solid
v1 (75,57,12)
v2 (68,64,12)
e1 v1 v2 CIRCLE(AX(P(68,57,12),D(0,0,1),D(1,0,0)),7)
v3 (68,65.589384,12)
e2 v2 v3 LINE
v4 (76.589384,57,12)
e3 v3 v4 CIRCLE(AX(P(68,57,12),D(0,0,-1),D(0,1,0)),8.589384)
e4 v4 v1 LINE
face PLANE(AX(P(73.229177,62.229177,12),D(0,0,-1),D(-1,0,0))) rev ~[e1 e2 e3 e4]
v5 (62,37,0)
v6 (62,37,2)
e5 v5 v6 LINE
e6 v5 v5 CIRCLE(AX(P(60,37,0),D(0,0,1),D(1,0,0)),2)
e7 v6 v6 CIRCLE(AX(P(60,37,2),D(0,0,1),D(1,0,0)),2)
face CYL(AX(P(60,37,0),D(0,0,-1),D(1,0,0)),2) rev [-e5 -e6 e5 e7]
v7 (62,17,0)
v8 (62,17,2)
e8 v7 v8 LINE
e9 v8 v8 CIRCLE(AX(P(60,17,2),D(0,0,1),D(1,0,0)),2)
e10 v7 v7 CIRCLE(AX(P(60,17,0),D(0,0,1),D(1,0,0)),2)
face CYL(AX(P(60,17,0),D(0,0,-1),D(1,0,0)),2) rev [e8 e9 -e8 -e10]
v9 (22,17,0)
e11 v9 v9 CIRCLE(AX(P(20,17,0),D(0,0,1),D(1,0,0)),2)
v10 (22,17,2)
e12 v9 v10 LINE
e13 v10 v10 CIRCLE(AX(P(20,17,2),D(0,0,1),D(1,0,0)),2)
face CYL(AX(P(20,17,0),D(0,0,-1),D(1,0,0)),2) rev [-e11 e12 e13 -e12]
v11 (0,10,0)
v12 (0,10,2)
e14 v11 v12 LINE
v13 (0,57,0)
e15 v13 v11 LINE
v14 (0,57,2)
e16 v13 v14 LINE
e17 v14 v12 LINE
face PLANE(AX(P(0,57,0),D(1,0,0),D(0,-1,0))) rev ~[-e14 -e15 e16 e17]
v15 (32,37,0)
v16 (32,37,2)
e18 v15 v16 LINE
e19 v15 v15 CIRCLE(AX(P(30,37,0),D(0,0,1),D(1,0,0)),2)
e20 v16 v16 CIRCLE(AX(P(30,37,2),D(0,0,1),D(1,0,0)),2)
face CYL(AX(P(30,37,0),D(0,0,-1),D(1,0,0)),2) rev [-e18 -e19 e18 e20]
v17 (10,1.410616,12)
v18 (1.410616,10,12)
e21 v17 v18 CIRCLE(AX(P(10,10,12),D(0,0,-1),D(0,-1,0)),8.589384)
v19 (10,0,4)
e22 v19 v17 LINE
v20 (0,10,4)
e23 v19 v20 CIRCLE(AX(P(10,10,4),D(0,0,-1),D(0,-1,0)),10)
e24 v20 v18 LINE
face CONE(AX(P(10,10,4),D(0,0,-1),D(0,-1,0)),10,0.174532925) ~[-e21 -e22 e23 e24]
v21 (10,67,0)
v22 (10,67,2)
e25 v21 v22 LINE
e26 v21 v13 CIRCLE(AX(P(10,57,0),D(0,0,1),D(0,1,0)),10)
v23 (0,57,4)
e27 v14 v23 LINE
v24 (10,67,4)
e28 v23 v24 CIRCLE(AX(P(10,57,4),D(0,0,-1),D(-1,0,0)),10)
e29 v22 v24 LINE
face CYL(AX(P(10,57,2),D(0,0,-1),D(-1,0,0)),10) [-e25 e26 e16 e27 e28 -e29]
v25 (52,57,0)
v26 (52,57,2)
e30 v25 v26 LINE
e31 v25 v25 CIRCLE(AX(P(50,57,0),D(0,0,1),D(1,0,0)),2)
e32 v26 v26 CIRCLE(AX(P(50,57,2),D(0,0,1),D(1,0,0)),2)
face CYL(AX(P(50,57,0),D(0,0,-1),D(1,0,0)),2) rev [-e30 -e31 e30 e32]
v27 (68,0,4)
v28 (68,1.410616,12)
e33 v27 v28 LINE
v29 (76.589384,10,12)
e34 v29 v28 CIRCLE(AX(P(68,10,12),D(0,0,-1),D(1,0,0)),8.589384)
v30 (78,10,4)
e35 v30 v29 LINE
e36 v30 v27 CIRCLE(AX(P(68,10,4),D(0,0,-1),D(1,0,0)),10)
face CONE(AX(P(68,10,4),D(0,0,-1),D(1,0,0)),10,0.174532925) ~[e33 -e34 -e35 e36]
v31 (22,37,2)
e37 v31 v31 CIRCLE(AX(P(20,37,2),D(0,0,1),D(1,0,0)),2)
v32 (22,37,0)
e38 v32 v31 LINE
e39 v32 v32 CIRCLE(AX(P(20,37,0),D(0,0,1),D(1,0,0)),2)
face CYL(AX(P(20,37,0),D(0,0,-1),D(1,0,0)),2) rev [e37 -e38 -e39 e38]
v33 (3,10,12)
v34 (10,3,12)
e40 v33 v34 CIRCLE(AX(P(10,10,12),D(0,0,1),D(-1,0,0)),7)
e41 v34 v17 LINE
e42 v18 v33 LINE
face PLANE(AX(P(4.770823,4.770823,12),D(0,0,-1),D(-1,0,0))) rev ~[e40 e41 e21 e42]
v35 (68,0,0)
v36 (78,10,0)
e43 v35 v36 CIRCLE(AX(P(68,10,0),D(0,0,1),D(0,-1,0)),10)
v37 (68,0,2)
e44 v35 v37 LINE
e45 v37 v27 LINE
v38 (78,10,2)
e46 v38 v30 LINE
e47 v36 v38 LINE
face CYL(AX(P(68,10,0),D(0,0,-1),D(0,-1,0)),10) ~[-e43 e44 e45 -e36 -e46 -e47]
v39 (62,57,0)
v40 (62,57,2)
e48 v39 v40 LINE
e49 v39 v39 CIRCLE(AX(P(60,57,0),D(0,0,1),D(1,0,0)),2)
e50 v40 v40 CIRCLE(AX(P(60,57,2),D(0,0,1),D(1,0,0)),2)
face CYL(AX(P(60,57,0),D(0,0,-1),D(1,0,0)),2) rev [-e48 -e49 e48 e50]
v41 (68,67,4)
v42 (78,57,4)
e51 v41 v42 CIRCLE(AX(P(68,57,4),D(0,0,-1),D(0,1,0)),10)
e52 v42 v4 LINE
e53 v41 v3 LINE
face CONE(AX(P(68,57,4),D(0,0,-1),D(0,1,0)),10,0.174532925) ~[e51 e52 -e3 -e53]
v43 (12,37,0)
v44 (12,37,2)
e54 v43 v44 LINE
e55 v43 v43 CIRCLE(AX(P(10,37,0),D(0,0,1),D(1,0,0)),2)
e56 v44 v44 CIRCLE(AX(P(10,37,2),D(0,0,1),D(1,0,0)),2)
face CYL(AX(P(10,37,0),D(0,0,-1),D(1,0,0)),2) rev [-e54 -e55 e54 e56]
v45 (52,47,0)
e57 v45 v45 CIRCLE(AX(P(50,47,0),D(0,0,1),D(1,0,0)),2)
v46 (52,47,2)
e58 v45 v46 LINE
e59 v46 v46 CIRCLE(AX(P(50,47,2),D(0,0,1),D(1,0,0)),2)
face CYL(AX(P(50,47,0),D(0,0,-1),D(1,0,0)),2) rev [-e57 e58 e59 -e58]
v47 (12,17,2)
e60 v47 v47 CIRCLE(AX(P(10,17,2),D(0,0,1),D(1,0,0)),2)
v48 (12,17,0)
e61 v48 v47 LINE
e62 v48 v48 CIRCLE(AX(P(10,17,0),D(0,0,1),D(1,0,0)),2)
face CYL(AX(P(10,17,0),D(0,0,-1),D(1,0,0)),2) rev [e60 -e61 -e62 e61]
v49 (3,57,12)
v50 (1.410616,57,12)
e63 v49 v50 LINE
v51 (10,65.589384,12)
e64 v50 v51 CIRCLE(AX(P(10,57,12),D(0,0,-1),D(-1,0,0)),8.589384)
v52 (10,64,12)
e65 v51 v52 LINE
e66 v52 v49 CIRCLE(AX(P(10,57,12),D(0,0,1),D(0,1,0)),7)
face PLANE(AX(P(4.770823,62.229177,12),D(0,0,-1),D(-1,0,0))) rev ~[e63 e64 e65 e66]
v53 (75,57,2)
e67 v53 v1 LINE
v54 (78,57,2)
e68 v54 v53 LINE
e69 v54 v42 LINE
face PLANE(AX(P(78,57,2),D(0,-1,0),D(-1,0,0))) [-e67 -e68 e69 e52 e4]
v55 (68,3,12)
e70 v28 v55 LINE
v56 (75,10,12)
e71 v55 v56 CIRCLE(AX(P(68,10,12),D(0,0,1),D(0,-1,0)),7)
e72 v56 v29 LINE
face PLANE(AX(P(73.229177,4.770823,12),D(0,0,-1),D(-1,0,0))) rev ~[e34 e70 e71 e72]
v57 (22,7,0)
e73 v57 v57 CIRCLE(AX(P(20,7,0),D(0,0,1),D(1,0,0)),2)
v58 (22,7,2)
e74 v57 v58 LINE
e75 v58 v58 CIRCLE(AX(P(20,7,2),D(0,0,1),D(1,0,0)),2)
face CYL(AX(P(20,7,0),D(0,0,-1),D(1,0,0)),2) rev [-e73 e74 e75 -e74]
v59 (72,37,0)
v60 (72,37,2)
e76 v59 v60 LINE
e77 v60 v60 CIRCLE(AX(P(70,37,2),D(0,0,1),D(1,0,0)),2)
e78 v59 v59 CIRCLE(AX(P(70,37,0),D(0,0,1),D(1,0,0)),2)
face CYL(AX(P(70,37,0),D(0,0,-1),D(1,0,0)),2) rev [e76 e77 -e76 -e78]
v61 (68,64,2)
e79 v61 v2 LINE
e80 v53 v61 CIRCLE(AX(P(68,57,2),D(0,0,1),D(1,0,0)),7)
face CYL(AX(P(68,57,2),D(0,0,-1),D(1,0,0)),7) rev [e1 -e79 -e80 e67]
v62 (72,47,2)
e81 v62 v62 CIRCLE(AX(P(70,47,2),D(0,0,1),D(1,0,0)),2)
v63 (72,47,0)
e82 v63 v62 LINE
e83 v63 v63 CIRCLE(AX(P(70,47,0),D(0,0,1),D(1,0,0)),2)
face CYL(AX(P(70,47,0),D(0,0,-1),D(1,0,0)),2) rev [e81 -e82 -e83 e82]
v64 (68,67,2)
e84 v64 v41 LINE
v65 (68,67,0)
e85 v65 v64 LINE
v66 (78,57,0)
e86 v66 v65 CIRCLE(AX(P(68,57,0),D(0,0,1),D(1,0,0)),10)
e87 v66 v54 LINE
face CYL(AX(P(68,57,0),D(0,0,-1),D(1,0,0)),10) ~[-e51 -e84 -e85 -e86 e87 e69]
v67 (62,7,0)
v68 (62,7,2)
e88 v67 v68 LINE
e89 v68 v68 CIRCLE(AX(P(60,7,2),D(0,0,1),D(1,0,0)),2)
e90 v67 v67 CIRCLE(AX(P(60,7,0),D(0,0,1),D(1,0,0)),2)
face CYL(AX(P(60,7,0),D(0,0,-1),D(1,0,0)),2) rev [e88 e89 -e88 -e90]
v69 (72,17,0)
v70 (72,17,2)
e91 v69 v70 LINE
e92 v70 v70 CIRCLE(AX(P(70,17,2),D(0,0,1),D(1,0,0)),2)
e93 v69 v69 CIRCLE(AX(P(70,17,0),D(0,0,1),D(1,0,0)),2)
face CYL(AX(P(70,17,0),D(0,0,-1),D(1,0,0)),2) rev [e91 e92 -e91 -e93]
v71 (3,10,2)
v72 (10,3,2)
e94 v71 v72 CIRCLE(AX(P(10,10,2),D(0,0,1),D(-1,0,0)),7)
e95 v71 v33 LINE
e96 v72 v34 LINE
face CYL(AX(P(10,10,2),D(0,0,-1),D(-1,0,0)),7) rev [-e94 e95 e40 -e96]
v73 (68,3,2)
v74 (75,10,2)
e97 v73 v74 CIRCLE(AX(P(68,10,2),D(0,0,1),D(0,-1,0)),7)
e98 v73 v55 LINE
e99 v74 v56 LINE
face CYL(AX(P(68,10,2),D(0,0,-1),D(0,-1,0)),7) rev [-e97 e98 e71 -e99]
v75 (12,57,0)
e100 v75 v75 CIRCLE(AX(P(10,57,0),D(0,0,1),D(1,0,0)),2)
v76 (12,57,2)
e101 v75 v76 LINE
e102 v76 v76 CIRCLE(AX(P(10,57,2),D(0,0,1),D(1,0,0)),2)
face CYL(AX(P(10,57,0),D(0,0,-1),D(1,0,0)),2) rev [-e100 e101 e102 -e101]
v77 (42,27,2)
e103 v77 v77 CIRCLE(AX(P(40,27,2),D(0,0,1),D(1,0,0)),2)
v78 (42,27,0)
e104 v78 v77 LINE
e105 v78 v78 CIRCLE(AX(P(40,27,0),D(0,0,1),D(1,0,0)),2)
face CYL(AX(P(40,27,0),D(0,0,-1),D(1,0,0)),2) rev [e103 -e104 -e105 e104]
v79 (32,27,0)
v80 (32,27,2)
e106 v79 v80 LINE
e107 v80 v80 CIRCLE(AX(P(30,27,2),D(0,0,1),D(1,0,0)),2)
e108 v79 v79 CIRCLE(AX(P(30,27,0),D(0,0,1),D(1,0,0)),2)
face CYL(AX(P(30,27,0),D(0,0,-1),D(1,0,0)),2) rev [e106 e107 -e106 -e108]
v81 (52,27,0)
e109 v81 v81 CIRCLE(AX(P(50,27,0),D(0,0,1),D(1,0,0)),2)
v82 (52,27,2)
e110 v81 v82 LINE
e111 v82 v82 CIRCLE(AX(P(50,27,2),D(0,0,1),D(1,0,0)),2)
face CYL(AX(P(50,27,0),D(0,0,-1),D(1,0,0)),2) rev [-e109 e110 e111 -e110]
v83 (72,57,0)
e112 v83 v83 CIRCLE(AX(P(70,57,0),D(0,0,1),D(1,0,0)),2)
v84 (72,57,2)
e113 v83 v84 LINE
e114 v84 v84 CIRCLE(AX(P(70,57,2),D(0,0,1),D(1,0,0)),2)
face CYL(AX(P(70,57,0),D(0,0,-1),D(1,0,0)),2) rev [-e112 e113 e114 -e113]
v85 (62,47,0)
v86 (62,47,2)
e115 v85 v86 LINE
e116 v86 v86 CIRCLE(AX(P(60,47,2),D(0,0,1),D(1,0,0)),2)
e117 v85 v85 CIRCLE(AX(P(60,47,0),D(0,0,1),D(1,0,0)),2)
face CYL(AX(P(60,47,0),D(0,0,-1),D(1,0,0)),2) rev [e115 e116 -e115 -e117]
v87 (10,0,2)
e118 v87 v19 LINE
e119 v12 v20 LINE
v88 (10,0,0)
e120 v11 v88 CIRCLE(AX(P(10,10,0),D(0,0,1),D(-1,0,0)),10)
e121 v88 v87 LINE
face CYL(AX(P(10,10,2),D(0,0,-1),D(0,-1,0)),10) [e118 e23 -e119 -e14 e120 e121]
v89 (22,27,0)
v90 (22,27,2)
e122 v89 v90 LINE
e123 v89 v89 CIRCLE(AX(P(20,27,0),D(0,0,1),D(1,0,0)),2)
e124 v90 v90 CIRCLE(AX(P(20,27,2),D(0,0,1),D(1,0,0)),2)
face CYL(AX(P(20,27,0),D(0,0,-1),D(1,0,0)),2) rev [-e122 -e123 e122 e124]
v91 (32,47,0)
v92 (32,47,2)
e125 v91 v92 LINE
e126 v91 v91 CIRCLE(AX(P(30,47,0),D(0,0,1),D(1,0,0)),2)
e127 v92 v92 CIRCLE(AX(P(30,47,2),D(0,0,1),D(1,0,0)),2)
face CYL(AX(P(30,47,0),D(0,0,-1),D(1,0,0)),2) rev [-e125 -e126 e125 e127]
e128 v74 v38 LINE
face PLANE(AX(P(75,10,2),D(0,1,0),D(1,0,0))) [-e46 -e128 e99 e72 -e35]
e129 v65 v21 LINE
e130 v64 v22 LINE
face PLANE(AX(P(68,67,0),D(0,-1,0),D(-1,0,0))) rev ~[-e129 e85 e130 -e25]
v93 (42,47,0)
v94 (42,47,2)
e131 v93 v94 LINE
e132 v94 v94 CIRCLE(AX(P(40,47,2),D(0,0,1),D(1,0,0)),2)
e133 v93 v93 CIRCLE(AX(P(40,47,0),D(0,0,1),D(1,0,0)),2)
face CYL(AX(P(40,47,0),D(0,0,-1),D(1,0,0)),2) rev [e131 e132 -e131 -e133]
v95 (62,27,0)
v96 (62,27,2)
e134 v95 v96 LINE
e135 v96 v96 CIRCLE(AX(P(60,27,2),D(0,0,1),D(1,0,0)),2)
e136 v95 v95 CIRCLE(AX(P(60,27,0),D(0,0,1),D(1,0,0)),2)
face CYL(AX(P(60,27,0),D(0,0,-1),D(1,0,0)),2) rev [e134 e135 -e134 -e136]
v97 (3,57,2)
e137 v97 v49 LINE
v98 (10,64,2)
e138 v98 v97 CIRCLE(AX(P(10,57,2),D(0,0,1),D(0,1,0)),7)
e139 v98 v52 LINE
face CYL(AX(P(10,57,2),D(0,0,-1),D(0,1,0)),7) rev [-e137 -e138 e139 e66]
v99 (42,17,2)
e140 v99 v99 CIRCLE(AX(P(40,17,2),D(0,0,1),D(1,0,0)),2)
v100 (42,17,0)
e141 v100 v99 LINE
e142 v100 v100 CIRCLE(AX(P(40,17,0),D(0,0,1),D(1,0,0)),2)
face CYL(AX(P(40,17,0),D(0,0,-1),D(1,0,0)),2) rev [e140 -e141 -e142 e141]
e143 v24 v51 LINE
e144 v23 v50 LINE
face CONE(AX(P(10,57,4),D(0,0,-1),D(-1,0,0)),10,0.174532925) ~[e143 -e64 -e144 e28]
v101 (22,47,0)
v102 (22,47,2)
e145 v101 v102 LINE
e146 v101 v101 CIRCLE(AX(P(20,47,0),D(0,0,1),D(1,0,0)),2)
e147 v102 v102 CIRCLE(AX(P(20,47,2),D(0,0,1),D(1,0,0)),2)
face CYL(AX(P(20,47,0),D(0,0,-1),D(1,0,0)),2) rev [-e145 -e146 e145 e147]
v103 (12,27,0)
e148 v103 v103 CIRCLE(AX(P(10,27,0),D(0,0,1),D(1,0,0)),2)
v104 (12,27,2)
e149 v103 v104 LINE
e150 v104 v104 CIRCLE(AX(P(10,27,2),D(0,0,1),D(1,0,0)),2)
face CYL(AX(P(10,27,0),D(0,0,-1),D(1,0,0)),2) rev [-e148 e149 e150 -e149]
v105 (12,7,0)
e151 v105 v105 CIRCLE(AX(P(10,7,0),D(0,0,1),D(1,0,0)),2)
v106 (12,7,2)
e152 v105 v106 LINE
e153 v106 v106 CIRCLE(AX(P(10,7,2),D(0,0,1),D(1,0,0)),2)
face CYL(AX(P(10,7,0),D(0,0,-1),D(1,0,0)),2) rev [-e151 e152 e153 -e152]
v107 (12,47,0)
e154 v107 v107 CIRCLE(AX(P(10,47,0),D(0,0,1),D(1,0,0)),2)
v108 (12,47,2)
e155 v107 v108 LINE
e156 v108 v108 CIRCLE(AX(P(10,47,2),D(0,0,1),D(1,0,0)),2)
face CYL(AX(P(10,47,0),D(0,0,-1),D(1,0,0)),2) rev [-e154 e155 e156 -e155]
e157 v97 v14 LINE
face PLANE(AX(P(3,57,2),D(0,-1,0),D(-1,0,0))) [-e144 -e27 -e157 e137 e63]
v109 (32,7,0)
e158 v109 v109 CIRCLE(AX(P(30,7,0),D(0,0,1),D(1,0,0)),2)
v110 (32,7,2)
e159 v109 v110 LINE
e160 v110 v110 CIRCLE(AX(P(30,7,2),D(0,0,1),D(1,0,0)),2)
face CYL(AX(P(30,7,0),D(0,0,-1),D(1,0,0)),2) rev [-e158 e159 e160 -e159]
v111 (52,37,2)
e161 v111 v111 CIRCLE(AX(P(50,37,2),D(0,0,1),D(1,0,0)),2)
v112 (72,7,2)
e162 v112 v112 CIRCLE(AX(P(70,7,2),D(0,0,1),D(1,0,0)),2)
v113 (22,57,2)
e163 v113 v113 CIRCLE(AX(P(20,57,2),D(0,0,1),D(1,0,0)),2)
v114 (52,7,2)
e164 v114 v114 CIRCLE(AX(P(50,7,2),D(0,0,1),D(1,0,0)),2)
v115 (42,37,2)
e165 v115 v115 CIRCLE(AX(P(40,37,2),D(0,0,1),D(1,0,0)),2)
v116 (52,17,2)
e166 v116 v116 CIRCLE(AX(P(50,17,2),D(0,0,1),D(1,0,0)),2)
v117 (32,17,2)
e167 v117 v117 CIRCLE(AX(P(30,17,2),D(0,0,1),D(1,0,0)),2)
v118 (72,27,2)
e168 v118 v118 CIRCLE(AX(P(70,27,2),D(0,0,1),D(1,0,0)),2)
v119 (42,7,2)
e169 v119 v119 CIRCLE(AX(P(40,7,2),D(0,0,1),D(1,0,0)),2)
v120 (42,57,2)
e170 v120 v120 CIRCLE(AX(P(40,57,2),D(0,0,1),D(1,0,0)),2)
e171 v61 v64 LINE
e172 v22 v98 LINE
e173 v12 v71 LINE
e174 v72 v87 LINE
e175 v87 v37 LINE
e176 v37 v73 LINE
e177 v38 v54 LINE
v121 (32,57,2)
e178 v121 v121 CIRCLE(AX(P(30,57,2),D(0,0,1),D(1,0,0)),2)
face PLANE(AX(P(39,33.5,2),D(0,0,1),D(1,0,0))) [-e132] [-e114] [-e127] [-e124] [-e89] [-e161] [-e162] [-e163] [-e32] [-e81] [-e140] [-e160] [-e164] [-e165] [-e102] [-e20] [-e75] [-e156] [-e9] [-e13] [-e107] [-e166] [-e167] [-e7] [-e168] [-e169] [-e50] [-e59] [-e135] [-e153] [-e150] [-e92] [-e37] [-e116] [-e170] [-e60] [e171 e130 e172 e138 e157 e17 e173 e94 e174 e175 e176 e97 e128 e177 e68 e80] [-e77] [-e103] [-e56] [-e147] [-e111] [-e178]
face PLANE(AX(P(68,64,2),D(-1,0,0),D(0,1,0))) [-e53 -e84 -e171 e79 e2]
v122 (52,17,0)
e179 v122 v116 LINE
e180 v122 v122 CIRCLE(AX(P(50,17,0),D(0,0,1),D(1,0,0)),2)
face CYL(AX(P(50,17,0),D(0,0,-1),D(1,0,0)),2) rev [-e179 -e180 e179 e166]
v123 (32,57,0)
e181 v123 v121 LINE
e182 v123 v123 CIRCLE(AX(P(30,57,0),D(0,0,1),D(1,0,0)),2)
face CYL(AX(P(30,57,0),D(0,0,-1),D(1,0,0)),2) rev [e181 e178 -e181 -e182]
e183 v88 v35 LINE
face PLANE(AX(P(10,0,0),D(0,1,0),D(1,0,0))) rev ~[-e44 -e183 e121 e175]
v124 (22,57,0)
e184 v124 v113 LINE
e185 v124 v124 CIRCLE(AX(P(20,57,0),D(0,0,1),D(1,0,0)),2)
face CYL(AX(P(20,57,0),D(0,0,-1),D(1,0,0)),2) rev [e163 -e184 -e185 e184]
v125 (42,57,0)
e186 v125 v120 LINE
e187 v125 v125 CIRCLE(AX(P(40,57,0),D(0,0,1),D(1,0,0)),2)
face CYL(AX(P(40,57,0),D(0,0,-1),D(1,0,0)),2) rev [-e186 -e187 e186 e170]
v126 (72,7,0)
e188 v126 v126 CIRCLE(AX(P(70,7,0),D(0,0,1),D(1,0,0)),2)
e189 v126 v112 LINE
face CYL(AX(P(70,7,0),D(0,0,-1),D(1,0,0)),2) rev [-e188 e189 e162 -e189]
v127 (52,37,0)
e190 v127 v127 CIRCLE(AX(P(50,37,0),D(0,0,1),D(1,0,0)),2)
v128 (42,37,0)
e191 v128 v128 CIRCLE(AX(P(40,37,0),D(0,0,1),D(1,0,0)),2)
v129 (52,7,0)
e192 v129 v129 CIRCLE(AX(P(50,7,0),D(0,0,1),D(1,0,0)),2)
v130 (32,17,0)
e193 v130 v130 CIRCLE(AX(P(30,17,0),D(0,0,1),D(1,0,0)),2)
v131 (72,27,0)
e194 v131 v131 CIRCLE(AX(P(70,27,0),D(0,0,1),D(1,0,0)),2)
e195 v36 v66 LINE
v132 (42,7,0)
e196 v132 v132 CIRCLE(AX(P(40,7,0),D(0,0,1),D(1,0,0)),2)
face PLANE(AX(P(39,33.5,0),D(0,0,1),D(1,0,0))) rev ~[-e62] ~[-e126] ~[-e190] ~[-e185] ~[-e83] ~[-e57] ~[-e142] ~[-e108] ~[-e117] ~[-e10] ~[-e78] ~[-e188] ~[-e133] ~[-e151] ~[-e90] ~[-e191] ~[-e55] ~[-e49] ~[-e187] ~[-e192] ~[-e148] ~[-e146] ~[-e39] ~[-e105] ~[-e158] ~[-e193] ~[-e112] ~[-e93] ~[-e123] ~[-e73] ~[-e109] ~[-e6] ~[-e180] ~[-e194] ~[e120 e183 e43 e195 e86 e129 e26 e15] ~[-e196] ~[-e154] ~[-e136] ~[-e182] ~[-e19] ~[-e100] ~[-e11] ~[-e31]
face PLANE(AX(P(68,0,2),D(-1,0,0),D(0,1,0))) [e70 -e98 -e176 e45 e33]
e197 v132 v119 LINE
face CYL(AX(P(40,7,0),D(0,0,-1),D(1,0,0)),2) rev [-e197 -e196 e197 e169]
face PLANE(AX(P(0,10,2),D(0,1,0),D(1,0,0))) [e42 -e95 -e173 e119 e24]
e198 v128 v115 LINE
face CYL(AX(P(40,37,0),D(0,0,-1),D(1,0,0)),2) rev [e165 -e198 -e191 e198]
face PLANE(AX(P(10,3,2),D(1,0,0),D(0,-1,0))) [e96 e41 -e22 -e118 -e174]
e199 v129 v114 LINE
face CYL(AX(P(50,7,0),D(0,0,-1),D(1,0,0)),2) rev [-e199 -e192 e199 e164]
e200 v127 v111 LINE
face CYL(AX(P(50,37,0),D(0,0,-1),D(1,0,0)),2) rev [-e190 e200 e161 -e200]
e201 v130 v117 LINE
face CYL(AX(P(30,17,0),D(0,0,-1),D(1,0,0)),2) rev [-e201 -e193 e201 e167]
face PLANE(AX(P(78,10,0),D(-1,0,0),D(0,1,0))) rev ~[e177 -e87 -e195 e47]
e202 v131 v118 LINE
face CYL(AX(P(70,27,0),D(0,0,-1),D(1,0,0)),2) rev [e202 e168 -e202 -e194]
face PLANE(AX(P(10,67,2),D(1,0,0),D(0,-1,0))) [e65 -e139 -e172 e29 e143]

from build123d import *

# Parameters (mm, degrees)
ESQUISSE1_R             = 2
BOSS_EXTRU_1_DEPTH      = 2
BOSS_EXTRU_2_DEPTH      = 10
CHANFREIN1_SIZE         = 8
CHANFREIN1_SIZE2        = 1.410615846
CHANFREIN1_PART_2_SIZE  = 8
CHANFREIN1_PART_2_SIZE2 = 1.410615846
CHANFREIN1_PART_3_SIZE  = 8
CHANFREIN1_PART_3_SIZE2 = 1.410615846
CHANFREIN1_PART_4_SIZE  = 8
CHANFREIN1_PART_4_SIZE2 = 1.410615846


with BuildPart() as part:
    # Esquisse1 → Boss.-Extru.1 (new body)
    with BuildSketch(Plane.XY):
        with BuildLine():
            Line((10, 0), (68, 0))
            ThreePointArc((68, 0), (75.071067812, 2.928932188), (78, 10))
            Line((78, 10), (78, 57))
            ThreePointArc((78, 57), (75.071067812, 64.071067812), (68, 67))
            Line((68, 67), (10, 67))
            ThreePointArc((10, 67), (2.928932188, 64.071067812), (0, 57))
            Line((0, 57), (0, 10))
            ThreePointArc((0, 10), (2.928932188, 2.928932188), (10, 0))
        make_face()
        with Locations((10, 57)):
            Circle(ESQUISSE1_R, mode=Mode.SUBTRACT)
        with Locations((20, 57)):
            Circle(ESQUISSE1_R, mode=Mode.SUBTRACT)
        with Locations((30, 57)):
            Circle(ESQUISSE1_R, mode=Mode.SUBTRACT)
        with Locations((40, 57)):
            Circle(ESQUISSE1_R, mode=Mode.SUBTRACT)
        with Locations((50, 57)):
            Circle(ESQUISSE1_R, mode=Mode.SUBTRACT)
        with Locations((60, 57)):
            Circle(ESQUISSE1_R, mode=Mode.SUBTRACT)
        with Locations((70, 57)):
            Circle(ESQUISSE1_R, mode=Mode.SUBTRACT)
        with Locations((20, 47)):
            Circle(ESQUISSE1_R, mode=Mode.SUBTRACT)
        with Locations((30, 47)):
            Circle(ESQUISSE1_R, mode=Mode.SUBTRACT)
        with Locations((40, 47)):
            Circle(ESQUISSE1_R, mode=Mode.SUBTRACT)
        with Locations((50, 47)):
            Circle(ESQUISSE1_R, mode=Mode.SUBTRACT)
        with Locations((60, 47)):
            Circle(ESQUISSE1_R, mode=Mode.SUBTRACT)
        with Locations((70, 47)):
            Circle(ESQUISSE1_R, mode=Mode.SUBTRACT)
        with Locations((20, 37)):
            Circle(ESQUISSE1_R, mode=Mode.SUBTRACT)
        with Locations((30, 37)):
            Circle(ESQUISSE1_R, mode=Mode.SUBTRACT)
        with Locations((40, 37)):
            Circle(ESQUISSE1_R, mode=Mode.SUBTRACT)
        with Locations((50, 37)):
            Circle(ESQUISSE1_R, mode=Mode.SUBTRACT)
        with Locations((60, 37)):
            Circle(ESQUISSE1_R, mode=Mode.SUBTRACT)
        with Locations((70, 37)):
            Circle(ESQUISSE1_R, mode=Mode.SUBTRACT)
        with Locations((20, 27)):
            Circle(ESQUISSE1_R, mode=Mode.SUBTRACT)
        with Locations((30, 27)):
            Circle(ESQUISSE1_R, mode=Mode.SUBTRACT)
        with Locations((40, 27)):
            Circle(ESQUISSE1_R, mode=Mode.SUBTRACT)
        with Locations((50, 27)):
            Circle(ESQUISSE1_R, mode=Mode.SUBTRACT)
        with Locations((60, 27)):
            Circle(ESQUISSE1_R, mode=Mode.SUBTRACT)
        with Locations((70, 27)):
            Circle(ESQUISSE1_R, mode=Mode.SUBTRACT)
        with Locations((20, 17)):
            Circle(ESQUISSE1_R, mode=Mode.SUBTRACT)
        with Locations((30, 17)):
            Circle(ESQUISSE1_R, mode=Mode.SUBTRACT)
        with Locations((40, 17)):
            Circle(ESQUISSE1_R, mode=Mode.SUBTRACT)
        with Locations((50, 17)):
            Circle(ESQUISSE1_R, mode=Mode.SUBTRACT)
        with Locations((60, 17)):
            Circle(ESQUISSE1_R, mode=Mode.SUBTRACT)
        with Locations((70, 17)):
            Circle(ESQUISSE1_R, mode=Mode.SUBTRACT)
        with Locations((20, 7)):
            Circle(ESQUISSE1_R, mode=Mode.SUBTRACT)
        with Locations((30, 7)):
            Circle(ESQUISSE1_R, mode=Mode.SUBTRACT)
        with Locations((40, 7)):
            Circle(ESQUISSE1_R, mode=Mode.SUBTRACT)
        with Locations((50, 7)):
            Circle(ESQUISSE1_R, mode=Mode.SUBTRACT)
        with Locations((60, 7)):
            Circle(ESQUISSE1_R, mode=Mode.SUBTRACT)
        with Locations((70, 7)):
            Circle(ESQUISSE1_R, mode=Mode.SUBTRACT)
        with Locations((10, 47)):
            Circle(ESQUISSE1_R, mode=Mode.SUBTRACT)
        with Locations((10, 37)):
            Circle(ESQUISSE1_R, mode=Mode.SUBTRACT)
        with Locations((10, 27)):
            Circle(ESQUISSE1_R, mode=Mode.SUBTRACT)
        with Locations((10, 17)):
            Circle(ESQUISSE1_R, mode=Mode.SUBTRACT)
        with Locations((10, 7)):
            Circle(ESQUISSE1_R, mode=Mode.SUBTRACT)
    extrude(amount=BOSS_EXTRU_1_DEPTH)

    # Esquisse2 → Boss.-Extru.2 (add)
    with BuildSketch(Plane.XY.offset(2)):
        with BuildLine():
            Line((10, 67), (10, 64))
            ThreePointArc((10, 64), (5.050252532, 61.949747468), (3, 57))
            Line((3, 57), (0, 57))
            ThreePointArc((0, 57), (2.928932188, 64.071067812), (10, 67))
        make_face()
        with BuildLine():
            Line((0, 10), (3, 10))
            ThreePointArc((3, 10), (5.050252532, 5.050252532), (10, 3))
            Line((10, 3), (10, 0))
            ThreePointArc((10, 0), (2.928932188, 2.928932188), (0, 10))
        make_face()
        with BuildLine():
            Line((75, 10), (78, 10))
            ThreePointArc((78, 10), (75.071067812, 2.928932188), (68, 0))
            Line((68, 0), (68, 3))
            ThreePointArc((68, 3), (72.949747468, 5.050252532), (75, 10))
        make_face()
        with BuildLine():
            Line((78, 57), (75, 57))
            ThreePointArc((75, 57), (72.949747468, 61.949747468), (68, 64))
            Line((68, 64), (68, 67))
            ThreePointArc((68, 67), (75.071067812, 64.071067812), (78, 57))
        make_face()
    extrude(amount=BOSS_EXTRU_2_DEPTH)

    # Chanfrein1
    chanfrein1_edges = [part.edges().sort_by_distance(p)[0] for p in [
        (2.928932188, 64.071067812, 12),
    ]]
    chanfrein1_side = [part.faces().sort_by_distance(p)[0] for p in [
        (2.928932188, 64.071067812, 6),
    ]]
    chamfer(chanfrein1_edges, length=CHANFREIN1_SIZE, length2=CHANFREIN1_SIZE2, reference=chanfrein1_side[0])

    # Chanfrein1 part 2
    chanfrein1_part_2_edges = [part.edges().sort_by_distance(p)[0] for p in [
        (2.928932188, 2.928932188, 12),
    ]]
    chanfrein1_part_2_side = [part.faces().sort_by_distance(p)[0] for p in [
        (2.928932188, 2.928932188, 6),
    ]]
    chamfer(chanfrein1_part_2_edges, length=CHANFREIN1_PART_2_SIZE, length2=CHANFREIN1_PART_2_SIZE2, reference=chanfrein1_part_2_side[0])

    # Chanfrein1 part 3
    chanfrein1_part_3_edges = [part.edges().sort_by_distance(p)[0] for p in [
        (75.071067812, 64.071067812, 12),
    ]]
    chanfrein1_part_3_side = [part.faces().sort_by_distance(p)[0] for p in [
        (75.071067812, 64.071067812, 6),
    ]]
    chamfer(chanfrein1_part_3_edges, length=CHANFREIN1_PART_3_SIZE, length2=CHANFREIN1_PART_3_SIZE2, reference=chanfrein1_part_3_side[0])

    # Chanfrein1 part 4
    chanfrein1_part_4_edges = [part.edges().sort_by_distance(p)[0] for p in [
        (75.071067812, 2.928932188, 12),
    ]]
    chanfrein1_part_4_side = [part.faces().sort_by_distance(p)[0] for p in [
        (75.071067812, 2.928932188, 6),
    ]]
    chamfer(chanfrein1_part_4_edges, length=CHANFREIN1_PART_4_SIZE, length2=CHANFREIN1_PART_4_SIZE2, reference=chanfrein1_part_4_side[0])


solid = part.part
